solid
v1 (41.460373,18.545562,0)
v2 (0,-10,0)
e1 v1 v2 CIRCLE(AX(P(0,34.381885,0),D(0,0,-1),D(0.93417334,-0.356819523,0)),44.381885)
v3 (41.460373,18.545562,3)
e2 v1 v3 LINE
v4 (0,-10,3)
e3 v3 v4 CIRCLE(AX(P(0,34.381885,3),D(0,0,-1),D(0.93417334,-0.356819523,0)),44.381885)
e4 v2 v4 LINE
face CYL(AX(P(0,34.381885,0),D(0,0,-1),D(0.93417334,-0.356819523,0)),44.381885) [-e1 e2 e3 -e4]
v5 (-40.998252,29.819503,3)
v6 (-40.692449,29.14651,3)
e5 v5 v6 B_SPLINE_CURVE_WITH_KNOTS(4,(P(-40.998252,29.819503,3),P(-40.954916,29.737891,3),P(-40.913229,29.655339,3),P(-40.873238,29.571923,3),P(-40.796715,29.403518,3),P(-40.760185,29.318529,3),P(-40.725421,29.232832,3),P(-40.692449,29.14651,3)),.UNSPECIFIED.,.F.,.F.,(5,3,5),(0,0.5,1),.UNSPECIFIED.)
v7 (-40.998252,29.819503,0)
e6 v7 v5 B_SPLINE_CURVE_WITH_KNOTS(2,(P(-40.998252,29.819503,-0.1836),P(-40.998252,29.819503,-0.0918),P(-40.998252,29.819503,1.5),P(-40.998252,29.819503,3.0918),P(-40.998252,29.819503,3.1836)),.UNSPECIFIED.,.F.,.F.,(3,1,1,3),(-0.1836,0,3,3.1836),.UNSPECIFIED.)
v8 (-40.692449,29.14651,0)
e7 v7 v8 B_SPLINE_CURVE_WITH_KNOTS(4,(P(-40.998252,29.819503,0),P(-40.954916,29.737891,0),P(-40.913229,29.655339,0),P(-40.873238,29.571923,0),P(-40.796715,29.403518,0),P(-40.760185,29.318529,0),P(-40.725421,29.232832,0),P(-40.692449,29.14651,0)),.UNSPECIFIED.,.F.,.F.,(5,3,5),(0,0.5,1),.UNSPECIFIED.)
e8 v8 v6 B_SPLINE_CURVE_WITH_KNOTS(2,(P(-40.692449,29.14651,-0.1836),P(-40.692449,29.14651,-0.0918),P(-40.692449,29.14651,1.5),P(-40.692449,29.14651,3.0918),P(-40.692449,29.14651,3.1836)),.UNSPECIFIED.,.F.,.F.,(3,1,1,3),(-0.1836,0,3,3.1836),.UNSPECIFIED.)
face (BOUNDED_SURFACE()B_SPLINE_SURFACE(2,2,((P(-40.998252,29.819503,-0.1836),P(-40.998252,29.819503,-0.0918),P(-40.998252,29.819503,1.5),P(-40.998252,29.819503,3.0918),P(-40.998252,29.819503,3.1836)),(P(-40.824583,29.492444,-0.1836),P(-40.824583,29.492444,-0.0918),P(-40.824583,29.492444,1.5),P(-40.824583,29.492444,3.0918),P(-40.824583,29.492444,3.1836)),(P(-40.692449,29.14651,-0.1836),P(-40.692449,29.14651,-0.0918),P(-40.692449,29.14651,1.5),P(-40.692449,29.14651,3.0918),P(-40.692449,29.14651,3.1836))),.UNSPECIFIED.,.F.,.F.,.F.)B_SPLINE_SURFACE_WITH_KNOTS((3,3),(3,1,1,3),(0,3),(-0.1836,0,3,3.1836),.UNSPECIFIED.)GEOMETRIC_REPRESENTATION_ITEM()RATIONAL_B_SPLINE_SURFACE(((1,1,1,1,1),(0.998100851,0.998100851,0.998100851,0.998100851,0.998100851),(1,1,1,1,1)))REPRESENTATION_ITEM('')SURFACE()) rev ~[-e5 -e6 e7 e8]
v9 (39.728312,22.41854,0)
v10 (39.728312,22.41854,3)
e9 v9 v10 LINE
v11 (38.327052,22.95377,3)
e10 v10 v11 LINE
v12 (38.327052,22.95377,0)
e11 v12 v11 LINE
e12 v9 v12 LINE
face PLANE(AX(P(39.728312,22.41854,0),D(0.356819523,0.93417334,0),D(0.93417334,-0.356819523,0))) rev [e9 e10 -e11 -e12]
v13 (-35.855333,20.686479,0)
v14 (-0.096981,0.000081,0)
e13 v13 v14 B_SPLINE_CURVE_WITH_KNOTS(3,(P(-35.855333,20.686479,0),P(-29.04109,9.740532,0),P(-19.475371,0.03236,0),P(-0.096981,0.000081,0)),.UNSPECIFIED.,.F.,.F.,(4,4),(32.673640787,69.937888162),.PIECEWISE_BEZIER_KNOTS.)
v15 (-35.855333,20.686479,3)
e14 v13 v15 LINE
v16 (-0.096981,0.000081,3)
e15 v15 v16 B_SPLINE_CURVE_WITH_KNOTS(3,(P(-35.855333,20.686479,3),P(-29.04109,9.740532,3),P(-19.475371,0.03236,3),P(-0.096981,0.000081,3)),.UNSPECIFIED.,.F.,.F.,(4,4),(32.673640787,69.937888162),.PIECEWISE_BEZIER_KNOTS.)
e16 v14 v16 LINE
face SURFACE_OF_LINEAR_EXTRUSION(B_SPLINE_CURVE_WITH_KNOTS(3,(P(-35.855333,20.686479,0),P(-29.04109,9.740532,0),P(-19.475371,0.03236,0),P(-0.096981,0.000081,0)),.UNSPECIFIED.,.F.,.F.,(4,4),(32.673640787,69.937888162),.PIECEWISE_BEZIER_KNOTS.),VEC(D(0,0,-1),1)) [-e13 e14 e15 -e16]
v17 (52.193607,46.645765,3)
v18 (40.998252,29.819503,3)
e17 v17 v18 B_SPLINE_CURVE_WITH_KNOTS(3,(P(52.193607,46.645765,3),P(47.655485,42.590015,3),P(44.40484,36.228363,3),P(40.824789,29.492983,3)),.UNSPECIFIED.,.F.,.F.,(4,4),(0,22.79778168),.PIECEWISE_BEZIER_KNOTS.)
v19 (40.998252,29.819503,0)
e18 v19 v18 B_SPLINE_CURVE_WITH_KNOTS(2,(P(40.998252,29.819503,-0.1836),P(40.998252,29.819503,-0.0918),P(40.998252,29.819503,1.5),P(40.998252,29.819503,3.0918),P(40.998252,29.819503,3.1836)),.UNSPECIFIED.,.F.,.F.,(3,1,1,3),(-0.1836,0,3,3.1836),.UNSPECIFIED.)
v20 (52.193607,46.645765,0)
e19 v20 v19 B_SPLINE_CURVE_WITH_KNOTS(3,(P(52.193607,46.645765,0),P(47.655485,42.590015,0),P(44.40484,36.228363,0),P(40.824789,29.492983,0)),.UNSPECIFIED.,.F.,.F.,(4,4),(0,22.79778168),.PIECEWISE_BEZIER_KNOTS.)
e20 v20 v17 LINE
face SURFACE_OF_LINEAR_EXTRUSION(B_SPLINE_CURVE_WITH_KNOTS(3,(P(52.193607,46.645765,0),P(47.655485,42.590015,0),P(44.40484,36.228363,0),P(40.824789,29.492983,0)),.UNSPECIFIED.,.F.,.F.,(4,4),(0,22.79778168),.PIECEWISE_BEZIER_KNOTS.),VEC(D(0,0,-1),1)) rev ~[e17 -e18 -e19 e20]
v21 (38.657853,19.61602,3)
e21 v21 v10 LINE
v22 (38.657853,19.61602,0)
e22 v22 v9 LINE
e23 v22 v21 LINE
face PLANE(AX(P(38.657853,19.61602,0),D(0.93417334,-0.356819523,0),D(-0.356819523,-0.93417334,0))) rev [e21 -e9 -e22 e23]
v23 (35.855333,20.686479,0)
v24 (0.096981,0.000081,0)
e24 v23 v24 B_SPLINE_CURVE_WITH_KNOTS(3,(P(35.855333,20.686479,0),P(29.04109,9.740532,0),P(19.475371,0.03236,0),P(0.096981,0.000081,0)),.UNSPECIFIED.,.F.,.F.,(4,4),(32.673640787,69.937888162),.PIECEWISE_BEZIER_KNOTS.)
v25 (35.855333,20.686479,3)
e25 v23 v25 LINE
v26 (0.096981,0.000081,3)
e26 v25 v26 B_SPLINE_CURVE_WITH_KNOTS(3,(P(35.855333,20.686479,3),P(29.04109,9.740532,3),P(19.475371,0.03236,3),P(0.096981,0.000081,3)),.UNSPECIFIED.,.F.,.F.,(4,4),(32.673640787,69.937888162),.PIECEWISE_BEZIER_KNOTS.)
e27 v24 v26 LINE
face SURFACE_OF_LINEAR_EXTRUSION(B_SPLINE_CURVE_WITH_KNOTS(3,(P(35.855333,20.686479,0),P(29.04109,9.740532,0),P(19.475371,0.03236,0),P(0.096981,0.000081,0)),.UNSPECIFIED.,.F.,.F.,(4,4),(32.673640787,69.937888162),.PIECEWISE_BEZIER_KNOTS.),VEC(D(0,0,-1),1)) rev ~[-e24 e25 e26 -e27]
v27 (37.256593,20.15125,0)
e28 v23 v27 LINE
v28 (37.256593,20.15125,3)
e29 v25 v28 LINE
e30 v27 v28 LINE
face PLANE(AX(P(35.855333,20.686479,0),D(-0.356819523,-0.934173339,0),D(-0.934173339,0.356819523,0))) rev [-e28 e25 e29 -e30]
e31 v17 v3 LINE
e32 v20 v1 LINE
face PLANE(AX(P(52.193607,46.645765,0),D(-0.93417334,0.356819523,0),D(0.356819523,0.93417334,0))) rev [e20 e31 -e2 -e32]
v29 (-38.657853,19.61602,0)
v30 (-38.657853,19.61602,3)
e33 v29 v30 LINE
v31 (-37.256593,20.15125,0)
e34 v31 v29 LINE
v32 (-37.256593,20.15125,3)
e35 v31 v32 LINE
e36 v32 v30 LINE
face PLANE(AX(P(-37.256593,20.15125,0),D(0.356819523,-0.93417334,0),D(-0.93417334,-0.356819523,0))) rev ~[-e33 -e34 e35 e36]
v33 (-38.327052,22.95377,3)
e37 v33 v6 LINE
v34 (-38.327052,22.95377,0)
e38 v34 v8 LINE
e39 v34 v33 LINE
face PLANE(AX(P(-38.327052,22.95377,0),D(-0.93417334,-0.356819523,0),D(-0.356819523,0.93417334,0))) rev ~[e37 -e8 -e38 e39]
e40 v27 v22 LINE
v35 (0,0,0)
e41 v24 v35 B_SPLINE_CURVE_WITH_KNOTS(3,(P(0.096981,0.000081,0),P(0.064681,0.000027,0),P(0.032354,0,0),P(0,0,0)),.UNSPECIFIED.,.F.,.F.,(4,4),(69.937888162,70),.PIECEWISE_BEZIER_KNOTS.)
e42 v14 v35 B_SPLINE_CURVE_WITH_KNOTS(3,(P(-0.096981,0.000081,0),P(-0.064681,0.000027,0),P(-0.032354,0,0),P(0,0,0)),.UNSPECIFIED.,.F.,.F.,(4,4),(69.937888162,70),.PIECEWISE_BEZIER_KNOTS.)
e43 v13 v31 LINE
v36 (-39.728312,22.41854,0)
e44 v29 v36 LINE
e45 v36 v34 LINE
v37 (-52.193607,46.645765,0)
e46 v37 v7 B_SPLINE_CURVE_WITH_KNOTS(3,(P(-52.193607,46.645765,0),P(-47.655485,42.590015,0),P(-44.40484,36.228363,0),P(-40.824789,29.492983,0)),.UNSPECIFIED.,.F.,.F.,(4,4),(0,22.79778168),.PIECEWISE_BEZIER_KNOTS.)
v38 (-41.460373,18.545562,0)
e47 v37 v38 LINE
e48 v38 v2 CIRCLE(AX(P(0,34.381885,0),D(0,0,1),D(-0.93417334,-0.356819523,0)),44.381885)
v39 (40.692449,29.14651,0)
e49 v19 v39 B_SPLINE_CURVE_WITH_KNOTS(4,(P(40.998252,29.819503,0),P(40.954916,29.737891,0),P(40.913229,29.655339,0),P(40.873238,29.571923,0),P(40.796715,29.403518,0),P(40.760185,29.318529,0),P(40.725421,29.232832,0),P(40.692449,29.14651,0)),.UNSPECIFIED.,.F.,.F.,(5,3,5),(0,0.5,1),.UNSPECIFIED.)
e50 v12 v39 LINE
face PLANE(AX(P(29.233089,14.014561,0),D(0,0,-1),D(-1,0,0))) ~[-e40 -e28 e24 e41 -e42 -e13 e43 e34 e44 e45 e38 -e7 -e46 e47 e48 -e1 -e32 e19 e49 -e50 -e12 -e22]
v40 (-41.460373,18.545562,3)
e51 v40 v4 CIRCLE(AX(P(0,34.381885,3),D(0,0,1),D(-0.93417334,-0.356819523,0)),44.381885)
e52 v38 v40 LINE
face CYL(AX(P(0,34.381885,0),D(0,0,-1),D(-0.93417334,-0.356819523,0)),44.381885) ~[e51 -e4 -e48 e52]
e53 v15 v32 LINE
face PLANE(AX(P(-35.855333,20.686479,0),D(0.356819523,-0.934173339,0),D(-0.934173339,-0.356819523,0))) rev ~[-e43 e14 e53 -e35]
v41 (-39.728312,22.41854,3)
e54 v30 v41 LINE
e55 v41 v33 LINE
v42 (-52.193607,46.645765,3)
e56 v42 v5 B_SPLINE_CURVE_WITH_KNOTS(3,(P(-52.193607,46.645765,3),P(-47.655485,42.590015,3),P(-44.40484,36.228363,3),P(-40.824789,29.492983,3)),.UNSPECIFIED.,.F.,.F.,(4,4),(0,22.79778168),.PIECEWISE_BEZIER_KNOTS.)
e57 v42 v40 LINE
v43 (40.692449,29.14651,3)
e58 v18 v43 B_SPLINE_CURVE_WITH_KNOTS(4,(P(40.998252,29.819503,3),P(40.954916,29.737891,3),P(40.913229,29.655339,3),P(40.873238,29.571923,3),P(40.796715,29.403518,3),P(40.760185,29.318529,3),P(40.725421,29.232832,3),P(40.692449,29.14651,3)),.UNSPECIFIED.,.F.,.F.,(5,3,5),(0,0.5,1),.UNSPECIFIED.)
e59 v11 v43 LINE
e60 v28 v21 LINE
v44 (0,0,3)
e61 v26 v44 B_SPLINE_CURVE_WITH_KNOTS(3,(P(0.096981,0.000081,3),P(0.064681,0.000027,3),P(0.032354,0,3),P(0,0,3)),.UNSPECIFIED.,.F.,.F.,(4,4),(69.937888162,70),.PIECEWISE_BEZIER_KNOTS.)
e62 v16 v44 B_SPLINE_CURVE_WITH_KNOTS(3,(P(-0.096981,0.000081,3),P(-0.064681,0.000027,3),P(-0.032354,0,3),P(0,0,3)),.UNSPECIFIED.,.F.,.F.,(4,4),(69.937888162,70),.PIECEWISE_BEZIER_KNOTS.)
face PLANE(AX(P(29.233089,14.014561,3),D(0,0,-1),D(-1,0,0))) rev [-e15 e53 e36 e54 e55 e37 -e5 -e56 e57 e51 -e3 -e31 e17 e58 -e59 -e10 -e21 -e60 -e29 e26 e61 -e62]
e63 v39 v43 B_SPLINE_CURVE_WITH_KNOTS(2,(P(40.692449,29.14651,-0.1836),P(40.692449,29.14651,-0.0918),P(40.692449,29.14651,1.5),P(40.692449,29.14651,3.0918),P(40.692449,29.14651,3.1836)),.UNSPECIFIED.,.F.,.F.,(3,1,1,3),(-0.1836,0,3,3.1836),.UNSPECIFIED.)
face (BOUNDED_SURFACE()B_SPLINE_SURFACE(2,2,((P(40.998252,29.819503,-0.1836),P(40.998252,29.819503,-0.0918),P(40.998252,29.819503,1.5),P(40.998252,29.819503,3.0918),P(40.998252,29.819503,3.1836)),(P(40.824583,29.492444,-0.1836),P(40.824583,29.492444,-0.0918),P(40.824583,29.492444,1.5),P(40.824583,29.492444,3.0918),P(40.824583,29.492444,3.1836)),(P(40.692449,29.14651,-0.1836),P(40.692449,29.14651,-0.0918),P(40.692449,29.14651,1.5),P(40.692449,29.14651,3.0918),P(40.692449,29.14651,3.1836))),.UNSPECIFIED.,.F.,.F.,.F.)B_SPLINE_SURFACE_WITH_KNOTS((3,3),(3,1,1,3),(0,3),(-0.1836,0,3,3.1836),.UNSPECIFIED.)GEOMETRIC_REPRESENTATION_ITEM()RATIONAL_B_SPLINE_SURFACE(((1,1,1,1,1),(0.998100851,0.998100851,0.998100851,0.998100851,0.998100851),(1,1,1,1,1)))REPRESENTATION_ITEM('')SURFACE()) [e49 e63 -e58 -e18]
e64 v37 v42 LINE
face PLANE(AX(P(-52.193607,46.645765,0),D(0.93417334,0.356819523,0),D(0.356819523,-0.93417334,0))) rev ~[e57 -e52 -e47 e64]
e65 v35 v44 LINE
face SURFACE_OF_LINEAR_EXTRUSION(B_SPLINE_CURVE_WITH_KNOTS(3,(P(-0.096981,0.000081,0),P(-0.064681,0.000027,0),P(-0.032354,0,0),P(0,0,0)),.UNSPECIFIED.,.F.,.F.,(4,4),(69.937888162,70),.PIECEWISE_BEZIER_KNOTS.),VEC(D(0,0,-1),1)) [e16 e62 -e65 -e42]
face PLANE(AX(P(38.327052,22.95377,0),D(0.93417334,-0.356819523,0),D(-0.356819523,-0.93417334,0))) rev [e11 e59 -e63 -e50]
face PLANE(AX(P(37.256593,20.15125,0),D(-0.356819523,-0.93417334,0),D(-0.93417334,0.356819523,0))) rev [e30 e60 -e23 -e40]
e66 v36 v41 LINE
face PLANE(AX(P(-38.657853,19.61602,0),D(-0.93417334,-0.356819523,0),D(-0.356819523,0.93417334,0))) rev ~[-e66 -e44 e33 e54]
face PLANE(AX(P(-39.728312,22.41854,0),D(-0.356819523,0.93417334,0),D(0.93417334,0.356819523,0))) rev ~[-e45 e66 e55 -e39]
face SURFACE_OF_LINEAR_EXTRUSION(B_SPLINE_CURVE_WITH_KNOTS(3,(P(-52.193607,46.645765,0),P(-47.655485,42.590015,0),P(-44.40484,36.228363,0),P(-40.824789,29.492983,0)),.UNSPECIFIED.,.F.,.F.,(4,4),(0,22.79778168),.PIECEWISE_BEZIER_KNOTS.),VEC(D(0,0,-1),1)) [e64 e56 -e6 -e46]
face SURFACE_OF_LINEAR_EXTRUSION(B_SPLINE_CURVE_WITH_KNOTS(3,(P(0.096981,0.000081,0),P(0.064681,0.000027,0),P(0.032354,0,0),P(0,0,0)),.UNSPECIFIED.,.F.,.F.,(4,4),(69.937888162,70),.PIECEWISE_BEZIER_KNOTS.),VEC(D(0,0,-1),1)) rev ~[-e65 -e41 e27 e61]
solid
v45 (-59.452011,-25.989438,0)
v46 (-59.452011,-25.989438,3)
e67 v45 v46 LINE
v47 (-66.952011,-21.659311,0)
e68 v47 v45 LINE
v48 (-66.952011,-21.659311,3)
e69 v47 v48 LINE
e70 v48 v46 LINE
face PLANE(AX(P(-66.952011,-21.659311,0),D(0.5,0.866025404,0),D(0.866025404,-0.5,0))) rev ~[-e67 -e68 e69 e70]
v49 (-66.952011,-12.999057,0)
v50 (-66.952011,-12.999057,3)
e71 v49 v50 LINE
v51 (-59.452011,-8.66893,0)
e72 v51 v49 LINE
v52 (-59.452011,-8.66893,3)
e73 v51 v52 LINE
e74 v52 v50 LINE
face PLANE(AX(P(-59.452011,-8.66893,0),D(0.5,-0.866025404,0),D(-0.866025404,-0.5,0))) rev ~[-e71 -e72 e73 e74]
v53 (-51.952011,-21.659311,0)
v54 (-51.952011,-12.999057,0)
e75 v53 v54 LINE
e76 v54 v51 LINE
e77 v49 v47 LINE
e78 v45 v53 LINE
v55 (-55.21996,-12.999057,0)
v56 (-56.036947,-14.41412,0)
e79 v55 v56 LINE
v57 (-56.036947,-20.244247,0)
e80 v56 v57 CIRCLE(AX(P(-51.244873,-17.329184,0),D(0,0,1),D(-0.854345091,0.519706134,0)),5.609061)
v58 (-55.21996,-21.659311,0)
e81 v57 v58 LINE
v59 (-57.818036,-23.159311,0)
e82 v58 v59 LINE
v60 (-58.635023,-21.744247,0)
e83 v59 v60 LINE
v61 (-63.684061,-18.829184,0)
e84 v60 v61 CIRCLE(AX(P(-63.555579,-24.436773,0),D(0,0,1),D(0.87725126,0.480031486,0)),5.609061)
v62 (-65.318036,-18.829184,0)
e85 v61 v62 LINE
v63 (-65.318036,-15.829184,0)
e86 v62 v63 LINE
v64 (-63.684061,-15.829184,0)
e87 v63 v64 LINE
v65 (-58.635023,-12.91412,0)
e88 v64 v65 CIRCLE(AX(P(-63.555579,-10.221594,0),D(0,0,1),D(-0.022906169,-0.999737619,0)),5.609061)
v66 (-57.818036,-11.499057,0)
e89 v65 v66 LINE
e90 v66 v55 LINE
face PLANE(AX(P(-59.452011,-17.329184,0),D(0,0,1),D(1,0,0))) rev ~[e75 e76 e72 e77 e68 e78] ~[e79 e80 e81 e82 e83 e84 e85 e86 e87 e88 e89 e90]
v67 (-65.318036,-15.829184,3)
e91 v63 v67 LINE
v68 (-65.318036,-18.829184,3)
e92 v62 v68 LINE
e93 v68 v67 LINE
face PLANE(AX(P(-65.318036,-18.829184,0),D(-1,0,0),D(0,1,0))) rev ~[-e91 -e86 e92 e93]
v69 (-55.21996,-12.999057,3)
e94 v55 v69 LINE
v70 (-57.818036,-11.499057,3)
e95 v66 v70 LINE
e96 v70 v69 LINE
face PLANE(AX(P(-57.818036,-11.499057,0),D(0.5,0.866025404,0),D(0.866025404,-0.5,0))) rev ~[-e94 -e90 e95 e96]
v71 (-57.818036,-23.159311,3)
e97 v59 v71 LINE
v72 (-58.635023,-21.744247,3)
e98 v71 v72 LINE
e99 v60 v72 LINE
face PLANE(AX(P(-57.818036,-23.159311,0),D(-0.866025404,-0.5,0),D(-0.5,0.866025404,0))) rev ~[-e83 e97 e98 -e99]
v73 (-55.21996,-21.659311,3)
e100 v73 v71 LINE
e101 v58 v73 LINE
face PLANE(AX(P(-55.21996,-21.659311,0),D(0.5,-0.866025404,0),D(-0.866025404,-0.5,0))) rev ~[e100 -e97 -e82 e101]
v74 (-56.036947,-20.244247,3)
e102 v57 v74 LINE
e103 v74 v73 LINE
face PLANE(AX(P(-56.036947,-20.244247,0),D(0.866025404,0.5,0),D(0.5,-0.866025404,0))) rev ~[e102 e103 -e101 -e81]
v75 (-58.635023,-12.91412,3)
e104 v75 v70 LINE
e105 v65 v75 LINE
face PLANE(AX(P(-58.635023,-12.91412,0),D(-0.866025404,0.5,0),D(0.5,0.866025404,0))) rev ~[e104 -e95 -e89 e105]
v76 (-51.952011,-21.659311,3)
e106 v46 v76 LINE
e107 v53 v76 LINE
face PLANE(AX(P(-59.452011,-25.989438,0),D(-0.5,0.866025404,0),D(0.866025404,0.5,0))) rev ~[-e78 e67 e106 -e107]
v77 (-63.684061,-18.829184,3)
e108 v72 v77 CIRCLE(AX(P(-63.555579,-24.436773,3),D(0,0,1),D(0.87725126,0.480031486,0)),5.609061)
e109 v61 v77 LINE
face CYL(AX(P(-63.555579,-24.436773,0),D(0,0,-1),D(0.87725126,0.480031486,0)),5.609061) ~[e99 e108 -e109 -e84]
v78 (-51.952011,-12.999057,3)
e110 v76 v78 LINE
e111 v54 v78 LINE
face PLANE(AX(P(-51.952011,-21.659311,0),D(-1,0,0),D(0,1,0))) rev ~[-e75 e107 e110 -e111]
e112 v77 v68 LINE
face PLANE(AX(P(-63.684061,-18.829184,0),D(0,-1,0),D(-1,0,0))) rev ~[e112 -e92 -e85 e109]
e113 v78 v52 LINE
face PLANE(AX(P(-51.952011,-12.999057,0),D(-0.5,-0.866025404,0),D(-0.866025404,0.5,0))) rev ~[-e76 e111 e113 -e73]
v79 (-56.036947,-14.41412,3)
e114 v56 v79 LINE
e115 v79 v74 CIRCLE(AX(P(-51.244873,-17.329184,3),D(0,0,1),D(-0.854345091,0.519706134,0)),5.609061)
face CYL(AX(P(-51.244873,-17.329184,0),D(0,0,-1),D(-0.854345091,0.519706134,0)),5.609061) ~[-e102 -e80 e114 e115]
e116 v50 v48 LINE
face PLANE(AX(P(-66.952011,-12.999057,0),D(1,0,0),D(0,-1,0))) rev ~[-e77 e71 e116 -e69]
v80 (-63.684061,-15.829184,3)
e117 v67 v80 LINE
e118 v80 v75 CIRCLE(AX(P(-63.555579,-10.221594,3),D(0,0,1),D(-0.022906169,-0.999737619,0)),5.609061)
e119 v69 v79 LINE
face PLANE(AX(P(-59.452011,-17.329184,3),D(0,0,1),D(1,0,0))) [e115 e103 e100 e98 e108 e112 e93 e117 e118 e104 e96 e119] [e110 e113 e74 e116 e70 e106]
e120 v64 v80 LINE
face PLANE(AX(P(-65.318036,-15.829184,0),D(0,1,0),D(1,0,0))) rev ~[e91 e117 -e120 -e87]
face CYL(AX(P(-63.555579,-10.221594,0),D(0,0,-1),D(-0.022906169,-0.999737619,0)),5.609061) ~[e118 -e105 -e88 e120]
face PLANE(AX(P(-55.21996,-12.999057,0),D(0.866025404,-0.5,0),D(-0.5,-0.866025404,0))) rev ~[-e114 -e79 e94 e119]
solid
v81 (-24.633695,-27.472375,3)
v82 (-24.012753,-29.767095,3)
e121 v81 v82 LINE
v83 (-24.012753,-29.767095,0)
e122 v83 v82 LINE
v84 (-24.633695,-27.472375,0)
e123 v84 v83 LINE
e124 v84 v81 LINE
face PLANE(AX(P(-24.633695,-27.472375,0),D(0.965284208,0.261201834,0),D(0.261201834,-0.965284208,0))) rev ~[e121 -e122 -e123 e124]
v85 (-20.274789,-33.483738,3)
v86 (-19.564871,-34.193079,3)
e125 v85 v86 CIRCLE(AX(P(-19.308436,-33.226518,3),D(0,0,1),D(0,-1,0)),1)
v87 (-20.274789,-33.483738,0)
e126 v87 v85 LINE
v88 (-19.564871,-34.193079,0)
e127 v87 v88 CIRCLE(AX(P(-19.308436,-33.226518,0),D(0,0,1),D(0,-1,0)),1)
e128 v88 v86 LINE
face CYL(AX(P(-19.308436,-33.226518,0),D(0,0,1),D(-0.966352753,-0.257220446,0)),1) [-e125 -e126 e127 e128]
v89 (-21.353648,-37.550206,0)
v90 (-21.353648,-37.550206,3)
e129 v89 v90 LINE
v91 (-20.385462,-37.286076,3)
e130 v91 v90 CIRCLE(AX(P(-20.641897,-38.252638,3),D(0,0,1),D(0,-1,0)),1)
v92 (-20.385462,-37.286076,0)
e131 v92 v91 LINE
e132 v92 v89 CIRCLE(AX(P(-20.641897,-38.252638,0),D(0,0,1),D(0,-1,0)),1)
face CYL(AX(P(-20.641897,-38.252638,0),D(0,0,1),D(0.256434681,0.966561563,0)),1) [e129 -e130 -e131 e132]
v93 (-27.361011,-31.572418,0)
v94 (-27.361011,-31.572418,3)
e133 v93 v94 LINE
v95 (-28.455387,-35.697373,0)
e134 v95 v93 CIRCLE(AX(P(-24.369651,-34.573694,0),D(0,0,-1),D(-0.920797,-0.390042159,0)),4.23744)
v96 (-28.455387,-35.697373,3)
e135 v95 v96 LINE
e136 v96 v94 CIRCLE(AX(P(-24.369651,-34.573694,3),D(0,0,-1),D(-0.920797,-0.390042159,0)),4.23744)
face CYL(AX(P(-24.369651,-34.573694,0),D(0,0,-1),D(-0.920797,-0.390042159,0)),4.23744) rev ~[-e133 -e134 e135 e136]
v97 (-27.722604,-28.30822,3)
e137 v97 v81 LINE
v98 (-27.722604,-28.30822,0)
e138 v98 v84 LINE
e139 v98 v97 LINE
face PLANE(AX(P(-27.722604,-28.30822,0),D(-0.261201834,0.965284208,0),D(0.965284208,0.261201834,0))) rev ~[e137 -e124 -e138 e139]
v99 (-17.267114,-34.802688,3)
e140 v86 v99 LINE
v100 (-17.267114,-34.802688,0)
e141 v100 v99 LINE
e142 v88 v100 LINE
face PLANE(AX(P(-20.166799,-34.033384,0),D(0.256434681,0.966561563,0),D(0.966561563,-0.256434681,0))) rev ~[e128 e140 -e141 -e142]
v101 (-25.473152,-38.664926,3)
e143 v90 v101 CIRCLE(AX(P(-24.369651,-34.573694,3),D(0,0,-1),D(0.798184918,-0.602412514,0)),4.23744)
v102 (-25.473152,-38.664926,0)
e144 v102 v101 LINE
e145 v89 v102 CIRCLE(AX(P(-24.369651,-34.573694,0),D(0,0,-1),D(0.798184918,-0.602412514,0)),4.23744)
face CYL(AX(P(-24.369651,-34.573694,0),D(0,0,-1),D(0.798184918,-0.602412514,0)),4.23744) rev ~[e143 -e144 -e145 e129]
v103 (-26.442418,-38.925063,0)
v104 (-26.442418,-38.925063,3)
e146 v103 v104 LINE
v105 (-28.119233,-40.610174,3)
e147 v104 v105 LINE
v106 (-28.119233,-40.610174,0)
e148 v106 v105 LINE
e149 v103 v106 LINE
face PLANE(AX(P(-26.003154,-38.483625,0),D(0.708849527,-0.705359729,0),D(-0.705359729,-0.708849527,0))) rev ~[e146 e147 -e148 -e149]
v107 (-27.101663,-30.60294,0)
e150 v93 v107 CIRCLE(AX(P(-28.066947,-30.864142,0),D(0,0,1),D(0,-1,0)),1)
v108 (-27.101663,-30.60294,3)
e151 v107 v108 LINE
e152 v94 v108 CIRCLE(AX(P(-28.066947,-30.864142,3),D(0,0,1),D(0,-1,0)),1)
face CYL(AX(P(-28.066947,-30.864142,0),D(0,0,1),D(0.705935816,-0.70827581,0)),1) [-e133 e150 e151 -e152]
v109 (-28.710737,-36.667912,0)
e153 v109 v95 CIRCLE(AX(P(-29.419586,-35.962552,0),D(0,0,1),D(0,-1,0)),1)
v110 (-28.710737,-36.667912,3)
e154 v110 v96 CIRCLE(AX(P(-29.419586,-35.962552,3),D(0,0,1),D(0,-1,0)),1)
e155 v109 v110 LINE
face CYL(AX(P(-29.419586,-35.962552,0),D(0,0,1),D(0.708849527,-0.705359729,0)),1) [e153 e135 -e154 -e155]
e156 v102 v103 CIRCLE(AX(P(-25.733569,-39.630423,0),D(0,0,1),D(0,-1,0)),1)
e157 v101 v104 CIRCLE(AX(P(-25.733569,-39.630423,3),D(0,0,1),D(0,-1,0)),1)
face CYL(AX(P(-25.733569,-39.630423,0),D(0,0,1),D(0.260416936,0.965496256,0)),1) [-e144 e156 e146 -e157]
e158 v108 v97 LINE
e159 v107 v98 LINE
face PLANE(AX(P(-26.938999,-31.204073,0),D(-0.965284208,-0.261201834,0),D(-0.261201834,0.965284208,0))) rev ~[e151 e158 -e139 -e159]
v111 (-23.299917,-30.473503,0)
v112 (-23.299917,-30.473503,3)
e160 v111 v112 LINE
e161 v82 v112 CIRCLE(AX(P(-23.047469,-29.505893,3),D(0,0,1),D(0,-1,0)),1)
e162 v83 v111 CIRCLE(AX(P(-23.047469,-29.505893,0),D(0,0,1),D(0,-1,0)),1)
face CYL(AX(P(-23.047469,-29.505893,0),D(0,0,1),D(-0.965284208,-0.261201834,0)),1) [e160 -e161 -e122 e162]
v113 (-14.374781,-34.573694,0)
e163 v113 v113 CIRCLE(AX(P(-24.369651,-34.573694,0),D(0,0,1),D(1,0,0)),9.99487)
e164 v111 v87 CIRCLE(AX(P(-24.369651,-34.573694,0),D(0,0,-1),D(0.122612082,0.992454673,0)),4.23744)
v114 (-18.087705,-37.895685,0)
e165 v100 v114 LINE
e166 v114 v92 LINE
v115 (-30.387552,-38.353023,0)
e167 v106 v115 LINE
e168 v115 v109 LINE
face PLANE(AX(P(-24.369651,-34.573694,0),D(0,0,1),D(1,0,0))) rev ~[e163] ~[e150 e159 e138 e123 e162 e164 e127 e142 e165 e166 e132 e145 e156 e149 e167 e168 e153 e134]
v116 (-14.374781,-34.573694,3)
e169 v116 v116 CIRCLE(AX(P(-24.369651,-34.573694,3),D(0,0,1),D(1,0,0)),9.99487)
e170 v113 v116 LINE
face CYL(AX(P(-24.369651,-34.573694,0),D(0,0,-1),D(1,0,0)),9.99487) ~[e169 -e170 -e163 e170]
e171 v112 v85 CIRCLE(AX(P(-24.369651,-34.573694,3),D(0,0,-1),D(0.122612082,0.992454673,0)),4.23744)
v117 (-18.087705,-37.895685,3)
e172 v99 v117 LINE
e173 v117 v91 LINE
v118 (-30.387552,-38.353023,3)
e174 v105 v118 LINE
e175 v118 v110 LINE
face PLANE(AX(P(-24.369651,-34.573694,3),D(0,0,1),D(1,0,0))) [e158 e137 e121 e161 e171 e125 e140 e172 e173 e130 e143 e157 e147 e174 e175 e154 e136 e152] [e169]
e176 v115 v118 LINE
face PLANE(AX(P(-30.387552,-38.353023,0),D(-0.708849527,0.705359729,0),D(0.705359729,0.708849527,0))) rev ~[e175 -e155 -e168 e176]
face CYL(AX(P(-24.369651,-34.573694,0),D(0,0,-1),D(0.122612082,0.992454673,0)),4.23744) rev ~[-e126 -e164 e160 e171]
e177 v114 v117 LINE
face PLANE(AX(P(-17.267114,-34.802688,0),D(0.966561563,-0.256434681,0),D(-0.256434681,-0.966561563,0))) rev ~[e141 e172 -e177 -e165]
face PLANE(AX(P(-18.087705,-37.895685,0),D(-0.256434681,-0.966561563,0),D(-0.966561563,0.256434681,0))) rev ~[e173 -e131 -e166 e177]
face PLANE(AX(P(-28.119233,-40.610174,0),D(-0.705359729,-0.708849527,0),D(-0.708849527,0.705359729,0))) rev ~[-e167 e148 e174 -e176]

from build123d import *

# Parameters (mm, degrees)
F1_DEPTH = 3
F2_R     = 6
F5_DEPTH = 3
F6_R     = 9.9948698969
F7_DEPTH = 3
F8_R     = 1


with BuildPart() as f1:
    # F0 (on Top) → F1 (new body)
    with BuildSketch(Plane.XY):
        with BuildLine():
            add(Edge.make_bspline(
                [(-52.1936073571, 46.6457645564), (-47.6554851248, 42.5900153585), (-44.4048403776, 36.2283632752), (-40.8247886844, 29.4929830615)],
                knots=[0, 0, 0, 0, 22.7977816795, 22.7977816795, 22.7977816795, 22.7977816795], degree=3))
            Line((-52.1936073571, 46.6457645564), (-41.4603734854, 18.5455618145))
            ThreePointArc((-41.4603734854, 18.5455618145), (-25.1684905629, -2.1735358695), (0, -10))
            Line((0, -10), (0, 0))
            add(Edge.make_bspline(
                [(-0.0969811924, 8.0723e-05), (-0.0646814008, 2.69207e-05), (-0.0323543475, 0), (0, 0)],
                knots=[69.9378881624, 69.9378881624, 69.9378881624, 69.9378881624, 70, 70, 70, 70], degree=3))
            add(Edge.make_bspline(
                [(-35.8553334484, 20.6864789506), (-29.041090153, 9.7405323449), (-19.4753714242, 0.0323596164), (-0.0969811924, 8.0723e-05)],
                knots=[32.6736407865, 32.6736407865, 32.6736407865, 32.6736407865, 69.9378881624, 69.9378881624, 69.9378881624, 69.9378881624], degree=3))
            Line((-35.8553334484, 20.6864789506), (-37.2565934576, 20.1512496665))
            Line((-37.2565934576, 20.1512496665), (-38.6578534669, 19.6160203825))
            Line((-38.6578534669, 19.6160203825), (-39.7283120349, 22.418540401))
            Line((-39.7283120349, 22.418540401), (-38.3270520257, 22.953769685))
            Line((-38.3270520257, 22.953769685), (-40.8247886844, 29.4929830615))
        make_face()
    extrude(amount=F1_DEPTH)

    # F2
    f2_edges = [f1.edges().sort_by_distance(p)[0] for p in [
        (-40.824789, 29.492983, 1.5),
    ]]
    fillet(f2_edges, radius=F2_R)

    # F3: F1 across face


with BuildPart() as f1_1:
    add(f1.part)
    add(f1.part.mirror(Plane(origin=(0, -5, 1.5), x_dir=(0, 1, 0), z_dir=(1, 0, 0))))


with BuildPart() as f5:
    # F4 (on Top) → F5 (new body)
    with BuildSketch(Plane.XY):
        Polygon((-51.952010545, -12.999056554), (-59.452010545, -8.6689295351), (-66.952010545, -12.999056554), (-66.952010545, -21.6593105919), (-59.452010545, -25.9894376108), (-51.952010545, -21.6593105919), align=None)
        with BuildLine():
            ThreePointArc((-63.6840613526, -15.829183573), (-60.7510486507, -15.079183573), (-58.6350232469, -12.9141200635))
            Line((-58.6350232469, -12.9141200635), (-57.8180359488, -11.499056554))
            Line((-57.8180359488, -11.499056554), (-55.2199597374, -12.999056554))
            Line((-55.2199597374, -12.999056554), (-56.0369470355, -14.4141200635))
            ThreePointArc((-56.0369470355, -14.4141200635), (-56.8539343336, -17.329183573), (-56.0369470355, -20.2442470824))
            Line((-56.0369470355, -20.2442470824), (-55.2199597374, -21.6593105919))
            Line((-55.2199597374, -21.6593105919), (-57.8180359488, -23.1593105919))
            Line((-57.8180359488, -23.1593105919), (-58.6350232469, -21.7442470824))
            ThreePointArc((-58.6350232469, -21.7442470824), (-60.7510486507, -19.579183573), (-63.6840613526, -18.829183573))
            Line((-63.6840613526, -18.829183573), (-65.3180359488, -18.829183573))
            Line((-65.3180359488, -18.829183573), (-65.3180359488, -15.829183573))
            Line((-65.3180359488, -15.829183573), (-63.6840613526, -15.829183573))
        make_face(mode=Mode.SUBTRACT)
    extrude(amount=F5_DEPTH)


with BuildPart() as f7:
    # F6 (on Top) → F7 (new body)
    with BuildSketch(Plane.XY):
        with Locations((-24.3696505876, -34.5736941158)):
            Circle(F6_R)
        Polygon((-22.319488679, -26.8461601743), (-16.6523289313, -32.4854194397), (-17.2671143966, -34.8026879101), (-18.0877053746, -37.8956849109), (-18.7024908399, -40.2129533813), (-26.4198124961, -42.3012280573), (-28.1192331262, -40.6101739913), (-30.3875516137, -38.3530228579), (-32.0869722438, -36.6619687919), (-30.0368103352, -28.9344348503), (-27.7226042399, -28.308220446), (-24.6336947744, -27.4723745786), align=None, mode=Mode.SUBTRACT)
        with BuildLine():
            Line((-26.9389987392, -31.2040730699), (-27.7226042399, -28.308220446))
            Line((-27.7226042399, -28.308220446), (-30.0368103352, -28.9344348503))
            Line((-30.0368103352, -28.9344348503), (-32.0869722438, -36.6619687919))
            Line((-32.0869722438, -36.6619687919), (-30.3875516137, -38.3530228579))
            Line((-30.3875516137, -38.3530228579), (-28.2714724262, -36.2264742758))
            ThreePointArc((-28.2714724262, -36.2264742758), (-28.4653970066, -33.4870675983), (-26.9389987392, -31.2040730699))
        make_face()
        with BuildLine():
            Line((-17.2671143966, -34.8026879101), (-16.6523289313, -32.4854194397))
            Line((-16.6523289313, -32.4854194397), (-22.319488679, -26.8461601743))
            Line((-22.319488679, -26.8461601743), (-24.6336947744, -27.4723745786))
            Line((-24.6336947744, -27.4723745786), (-23.8500892737, -30.3682272025))
            ThreePointArc((-23.8500892737, -30.3682272025), (-21.3807312095, -31.5699869282), (-20.1667990848, -34.0333838683))
            Line((-20.1667990848, -34.0333838683), (-17.2671143966, -34.8026879101))
        make_face()
        with BuildLine():
            Line((-18.7024908399, -40.2129533813), (-18.0877053746, -37.8956849109))
            Line((-18.0877053746, -37.8956849109), (-20.9873900628, -37.126380869))
            ThreePointArc((-20.9873900628, -37.126380869), (-23.2628235466, -38.6640278209), (-26.0031539386, -38.4836254093))
            Line((-26.0031539386, -38.4836254093), (-28.1192331262, -40.6101739913))
            Line((-28.1192331262, -40.6101739913), (-26.4198124961, -42.3012280573))
            Line((-26.4198124961, -42.3012280573), (-18.7024908399, -40.2129533813))
        make_face()
    extrude(amount=F7_DEPTH)

    # F8
    f8_edges = [f7.edges().sort_by_distance(p)[0] for p in [
        (-20.166799, -34.033384, 1.5),
        (-23.850089, -30.368227, 1.5),
        (-26.938999, -31.204073, 1.5),
        (-28.271472, -36.226474, 1.5),
        (-26.003154, -38.483625, 1.5),
        (-20.98739, -37.126381, 1.5),
    ]]
    fillet(f8_edges, radius=F8_R)


solid = Compound([f1_1.part, f5.part, f7.part])
